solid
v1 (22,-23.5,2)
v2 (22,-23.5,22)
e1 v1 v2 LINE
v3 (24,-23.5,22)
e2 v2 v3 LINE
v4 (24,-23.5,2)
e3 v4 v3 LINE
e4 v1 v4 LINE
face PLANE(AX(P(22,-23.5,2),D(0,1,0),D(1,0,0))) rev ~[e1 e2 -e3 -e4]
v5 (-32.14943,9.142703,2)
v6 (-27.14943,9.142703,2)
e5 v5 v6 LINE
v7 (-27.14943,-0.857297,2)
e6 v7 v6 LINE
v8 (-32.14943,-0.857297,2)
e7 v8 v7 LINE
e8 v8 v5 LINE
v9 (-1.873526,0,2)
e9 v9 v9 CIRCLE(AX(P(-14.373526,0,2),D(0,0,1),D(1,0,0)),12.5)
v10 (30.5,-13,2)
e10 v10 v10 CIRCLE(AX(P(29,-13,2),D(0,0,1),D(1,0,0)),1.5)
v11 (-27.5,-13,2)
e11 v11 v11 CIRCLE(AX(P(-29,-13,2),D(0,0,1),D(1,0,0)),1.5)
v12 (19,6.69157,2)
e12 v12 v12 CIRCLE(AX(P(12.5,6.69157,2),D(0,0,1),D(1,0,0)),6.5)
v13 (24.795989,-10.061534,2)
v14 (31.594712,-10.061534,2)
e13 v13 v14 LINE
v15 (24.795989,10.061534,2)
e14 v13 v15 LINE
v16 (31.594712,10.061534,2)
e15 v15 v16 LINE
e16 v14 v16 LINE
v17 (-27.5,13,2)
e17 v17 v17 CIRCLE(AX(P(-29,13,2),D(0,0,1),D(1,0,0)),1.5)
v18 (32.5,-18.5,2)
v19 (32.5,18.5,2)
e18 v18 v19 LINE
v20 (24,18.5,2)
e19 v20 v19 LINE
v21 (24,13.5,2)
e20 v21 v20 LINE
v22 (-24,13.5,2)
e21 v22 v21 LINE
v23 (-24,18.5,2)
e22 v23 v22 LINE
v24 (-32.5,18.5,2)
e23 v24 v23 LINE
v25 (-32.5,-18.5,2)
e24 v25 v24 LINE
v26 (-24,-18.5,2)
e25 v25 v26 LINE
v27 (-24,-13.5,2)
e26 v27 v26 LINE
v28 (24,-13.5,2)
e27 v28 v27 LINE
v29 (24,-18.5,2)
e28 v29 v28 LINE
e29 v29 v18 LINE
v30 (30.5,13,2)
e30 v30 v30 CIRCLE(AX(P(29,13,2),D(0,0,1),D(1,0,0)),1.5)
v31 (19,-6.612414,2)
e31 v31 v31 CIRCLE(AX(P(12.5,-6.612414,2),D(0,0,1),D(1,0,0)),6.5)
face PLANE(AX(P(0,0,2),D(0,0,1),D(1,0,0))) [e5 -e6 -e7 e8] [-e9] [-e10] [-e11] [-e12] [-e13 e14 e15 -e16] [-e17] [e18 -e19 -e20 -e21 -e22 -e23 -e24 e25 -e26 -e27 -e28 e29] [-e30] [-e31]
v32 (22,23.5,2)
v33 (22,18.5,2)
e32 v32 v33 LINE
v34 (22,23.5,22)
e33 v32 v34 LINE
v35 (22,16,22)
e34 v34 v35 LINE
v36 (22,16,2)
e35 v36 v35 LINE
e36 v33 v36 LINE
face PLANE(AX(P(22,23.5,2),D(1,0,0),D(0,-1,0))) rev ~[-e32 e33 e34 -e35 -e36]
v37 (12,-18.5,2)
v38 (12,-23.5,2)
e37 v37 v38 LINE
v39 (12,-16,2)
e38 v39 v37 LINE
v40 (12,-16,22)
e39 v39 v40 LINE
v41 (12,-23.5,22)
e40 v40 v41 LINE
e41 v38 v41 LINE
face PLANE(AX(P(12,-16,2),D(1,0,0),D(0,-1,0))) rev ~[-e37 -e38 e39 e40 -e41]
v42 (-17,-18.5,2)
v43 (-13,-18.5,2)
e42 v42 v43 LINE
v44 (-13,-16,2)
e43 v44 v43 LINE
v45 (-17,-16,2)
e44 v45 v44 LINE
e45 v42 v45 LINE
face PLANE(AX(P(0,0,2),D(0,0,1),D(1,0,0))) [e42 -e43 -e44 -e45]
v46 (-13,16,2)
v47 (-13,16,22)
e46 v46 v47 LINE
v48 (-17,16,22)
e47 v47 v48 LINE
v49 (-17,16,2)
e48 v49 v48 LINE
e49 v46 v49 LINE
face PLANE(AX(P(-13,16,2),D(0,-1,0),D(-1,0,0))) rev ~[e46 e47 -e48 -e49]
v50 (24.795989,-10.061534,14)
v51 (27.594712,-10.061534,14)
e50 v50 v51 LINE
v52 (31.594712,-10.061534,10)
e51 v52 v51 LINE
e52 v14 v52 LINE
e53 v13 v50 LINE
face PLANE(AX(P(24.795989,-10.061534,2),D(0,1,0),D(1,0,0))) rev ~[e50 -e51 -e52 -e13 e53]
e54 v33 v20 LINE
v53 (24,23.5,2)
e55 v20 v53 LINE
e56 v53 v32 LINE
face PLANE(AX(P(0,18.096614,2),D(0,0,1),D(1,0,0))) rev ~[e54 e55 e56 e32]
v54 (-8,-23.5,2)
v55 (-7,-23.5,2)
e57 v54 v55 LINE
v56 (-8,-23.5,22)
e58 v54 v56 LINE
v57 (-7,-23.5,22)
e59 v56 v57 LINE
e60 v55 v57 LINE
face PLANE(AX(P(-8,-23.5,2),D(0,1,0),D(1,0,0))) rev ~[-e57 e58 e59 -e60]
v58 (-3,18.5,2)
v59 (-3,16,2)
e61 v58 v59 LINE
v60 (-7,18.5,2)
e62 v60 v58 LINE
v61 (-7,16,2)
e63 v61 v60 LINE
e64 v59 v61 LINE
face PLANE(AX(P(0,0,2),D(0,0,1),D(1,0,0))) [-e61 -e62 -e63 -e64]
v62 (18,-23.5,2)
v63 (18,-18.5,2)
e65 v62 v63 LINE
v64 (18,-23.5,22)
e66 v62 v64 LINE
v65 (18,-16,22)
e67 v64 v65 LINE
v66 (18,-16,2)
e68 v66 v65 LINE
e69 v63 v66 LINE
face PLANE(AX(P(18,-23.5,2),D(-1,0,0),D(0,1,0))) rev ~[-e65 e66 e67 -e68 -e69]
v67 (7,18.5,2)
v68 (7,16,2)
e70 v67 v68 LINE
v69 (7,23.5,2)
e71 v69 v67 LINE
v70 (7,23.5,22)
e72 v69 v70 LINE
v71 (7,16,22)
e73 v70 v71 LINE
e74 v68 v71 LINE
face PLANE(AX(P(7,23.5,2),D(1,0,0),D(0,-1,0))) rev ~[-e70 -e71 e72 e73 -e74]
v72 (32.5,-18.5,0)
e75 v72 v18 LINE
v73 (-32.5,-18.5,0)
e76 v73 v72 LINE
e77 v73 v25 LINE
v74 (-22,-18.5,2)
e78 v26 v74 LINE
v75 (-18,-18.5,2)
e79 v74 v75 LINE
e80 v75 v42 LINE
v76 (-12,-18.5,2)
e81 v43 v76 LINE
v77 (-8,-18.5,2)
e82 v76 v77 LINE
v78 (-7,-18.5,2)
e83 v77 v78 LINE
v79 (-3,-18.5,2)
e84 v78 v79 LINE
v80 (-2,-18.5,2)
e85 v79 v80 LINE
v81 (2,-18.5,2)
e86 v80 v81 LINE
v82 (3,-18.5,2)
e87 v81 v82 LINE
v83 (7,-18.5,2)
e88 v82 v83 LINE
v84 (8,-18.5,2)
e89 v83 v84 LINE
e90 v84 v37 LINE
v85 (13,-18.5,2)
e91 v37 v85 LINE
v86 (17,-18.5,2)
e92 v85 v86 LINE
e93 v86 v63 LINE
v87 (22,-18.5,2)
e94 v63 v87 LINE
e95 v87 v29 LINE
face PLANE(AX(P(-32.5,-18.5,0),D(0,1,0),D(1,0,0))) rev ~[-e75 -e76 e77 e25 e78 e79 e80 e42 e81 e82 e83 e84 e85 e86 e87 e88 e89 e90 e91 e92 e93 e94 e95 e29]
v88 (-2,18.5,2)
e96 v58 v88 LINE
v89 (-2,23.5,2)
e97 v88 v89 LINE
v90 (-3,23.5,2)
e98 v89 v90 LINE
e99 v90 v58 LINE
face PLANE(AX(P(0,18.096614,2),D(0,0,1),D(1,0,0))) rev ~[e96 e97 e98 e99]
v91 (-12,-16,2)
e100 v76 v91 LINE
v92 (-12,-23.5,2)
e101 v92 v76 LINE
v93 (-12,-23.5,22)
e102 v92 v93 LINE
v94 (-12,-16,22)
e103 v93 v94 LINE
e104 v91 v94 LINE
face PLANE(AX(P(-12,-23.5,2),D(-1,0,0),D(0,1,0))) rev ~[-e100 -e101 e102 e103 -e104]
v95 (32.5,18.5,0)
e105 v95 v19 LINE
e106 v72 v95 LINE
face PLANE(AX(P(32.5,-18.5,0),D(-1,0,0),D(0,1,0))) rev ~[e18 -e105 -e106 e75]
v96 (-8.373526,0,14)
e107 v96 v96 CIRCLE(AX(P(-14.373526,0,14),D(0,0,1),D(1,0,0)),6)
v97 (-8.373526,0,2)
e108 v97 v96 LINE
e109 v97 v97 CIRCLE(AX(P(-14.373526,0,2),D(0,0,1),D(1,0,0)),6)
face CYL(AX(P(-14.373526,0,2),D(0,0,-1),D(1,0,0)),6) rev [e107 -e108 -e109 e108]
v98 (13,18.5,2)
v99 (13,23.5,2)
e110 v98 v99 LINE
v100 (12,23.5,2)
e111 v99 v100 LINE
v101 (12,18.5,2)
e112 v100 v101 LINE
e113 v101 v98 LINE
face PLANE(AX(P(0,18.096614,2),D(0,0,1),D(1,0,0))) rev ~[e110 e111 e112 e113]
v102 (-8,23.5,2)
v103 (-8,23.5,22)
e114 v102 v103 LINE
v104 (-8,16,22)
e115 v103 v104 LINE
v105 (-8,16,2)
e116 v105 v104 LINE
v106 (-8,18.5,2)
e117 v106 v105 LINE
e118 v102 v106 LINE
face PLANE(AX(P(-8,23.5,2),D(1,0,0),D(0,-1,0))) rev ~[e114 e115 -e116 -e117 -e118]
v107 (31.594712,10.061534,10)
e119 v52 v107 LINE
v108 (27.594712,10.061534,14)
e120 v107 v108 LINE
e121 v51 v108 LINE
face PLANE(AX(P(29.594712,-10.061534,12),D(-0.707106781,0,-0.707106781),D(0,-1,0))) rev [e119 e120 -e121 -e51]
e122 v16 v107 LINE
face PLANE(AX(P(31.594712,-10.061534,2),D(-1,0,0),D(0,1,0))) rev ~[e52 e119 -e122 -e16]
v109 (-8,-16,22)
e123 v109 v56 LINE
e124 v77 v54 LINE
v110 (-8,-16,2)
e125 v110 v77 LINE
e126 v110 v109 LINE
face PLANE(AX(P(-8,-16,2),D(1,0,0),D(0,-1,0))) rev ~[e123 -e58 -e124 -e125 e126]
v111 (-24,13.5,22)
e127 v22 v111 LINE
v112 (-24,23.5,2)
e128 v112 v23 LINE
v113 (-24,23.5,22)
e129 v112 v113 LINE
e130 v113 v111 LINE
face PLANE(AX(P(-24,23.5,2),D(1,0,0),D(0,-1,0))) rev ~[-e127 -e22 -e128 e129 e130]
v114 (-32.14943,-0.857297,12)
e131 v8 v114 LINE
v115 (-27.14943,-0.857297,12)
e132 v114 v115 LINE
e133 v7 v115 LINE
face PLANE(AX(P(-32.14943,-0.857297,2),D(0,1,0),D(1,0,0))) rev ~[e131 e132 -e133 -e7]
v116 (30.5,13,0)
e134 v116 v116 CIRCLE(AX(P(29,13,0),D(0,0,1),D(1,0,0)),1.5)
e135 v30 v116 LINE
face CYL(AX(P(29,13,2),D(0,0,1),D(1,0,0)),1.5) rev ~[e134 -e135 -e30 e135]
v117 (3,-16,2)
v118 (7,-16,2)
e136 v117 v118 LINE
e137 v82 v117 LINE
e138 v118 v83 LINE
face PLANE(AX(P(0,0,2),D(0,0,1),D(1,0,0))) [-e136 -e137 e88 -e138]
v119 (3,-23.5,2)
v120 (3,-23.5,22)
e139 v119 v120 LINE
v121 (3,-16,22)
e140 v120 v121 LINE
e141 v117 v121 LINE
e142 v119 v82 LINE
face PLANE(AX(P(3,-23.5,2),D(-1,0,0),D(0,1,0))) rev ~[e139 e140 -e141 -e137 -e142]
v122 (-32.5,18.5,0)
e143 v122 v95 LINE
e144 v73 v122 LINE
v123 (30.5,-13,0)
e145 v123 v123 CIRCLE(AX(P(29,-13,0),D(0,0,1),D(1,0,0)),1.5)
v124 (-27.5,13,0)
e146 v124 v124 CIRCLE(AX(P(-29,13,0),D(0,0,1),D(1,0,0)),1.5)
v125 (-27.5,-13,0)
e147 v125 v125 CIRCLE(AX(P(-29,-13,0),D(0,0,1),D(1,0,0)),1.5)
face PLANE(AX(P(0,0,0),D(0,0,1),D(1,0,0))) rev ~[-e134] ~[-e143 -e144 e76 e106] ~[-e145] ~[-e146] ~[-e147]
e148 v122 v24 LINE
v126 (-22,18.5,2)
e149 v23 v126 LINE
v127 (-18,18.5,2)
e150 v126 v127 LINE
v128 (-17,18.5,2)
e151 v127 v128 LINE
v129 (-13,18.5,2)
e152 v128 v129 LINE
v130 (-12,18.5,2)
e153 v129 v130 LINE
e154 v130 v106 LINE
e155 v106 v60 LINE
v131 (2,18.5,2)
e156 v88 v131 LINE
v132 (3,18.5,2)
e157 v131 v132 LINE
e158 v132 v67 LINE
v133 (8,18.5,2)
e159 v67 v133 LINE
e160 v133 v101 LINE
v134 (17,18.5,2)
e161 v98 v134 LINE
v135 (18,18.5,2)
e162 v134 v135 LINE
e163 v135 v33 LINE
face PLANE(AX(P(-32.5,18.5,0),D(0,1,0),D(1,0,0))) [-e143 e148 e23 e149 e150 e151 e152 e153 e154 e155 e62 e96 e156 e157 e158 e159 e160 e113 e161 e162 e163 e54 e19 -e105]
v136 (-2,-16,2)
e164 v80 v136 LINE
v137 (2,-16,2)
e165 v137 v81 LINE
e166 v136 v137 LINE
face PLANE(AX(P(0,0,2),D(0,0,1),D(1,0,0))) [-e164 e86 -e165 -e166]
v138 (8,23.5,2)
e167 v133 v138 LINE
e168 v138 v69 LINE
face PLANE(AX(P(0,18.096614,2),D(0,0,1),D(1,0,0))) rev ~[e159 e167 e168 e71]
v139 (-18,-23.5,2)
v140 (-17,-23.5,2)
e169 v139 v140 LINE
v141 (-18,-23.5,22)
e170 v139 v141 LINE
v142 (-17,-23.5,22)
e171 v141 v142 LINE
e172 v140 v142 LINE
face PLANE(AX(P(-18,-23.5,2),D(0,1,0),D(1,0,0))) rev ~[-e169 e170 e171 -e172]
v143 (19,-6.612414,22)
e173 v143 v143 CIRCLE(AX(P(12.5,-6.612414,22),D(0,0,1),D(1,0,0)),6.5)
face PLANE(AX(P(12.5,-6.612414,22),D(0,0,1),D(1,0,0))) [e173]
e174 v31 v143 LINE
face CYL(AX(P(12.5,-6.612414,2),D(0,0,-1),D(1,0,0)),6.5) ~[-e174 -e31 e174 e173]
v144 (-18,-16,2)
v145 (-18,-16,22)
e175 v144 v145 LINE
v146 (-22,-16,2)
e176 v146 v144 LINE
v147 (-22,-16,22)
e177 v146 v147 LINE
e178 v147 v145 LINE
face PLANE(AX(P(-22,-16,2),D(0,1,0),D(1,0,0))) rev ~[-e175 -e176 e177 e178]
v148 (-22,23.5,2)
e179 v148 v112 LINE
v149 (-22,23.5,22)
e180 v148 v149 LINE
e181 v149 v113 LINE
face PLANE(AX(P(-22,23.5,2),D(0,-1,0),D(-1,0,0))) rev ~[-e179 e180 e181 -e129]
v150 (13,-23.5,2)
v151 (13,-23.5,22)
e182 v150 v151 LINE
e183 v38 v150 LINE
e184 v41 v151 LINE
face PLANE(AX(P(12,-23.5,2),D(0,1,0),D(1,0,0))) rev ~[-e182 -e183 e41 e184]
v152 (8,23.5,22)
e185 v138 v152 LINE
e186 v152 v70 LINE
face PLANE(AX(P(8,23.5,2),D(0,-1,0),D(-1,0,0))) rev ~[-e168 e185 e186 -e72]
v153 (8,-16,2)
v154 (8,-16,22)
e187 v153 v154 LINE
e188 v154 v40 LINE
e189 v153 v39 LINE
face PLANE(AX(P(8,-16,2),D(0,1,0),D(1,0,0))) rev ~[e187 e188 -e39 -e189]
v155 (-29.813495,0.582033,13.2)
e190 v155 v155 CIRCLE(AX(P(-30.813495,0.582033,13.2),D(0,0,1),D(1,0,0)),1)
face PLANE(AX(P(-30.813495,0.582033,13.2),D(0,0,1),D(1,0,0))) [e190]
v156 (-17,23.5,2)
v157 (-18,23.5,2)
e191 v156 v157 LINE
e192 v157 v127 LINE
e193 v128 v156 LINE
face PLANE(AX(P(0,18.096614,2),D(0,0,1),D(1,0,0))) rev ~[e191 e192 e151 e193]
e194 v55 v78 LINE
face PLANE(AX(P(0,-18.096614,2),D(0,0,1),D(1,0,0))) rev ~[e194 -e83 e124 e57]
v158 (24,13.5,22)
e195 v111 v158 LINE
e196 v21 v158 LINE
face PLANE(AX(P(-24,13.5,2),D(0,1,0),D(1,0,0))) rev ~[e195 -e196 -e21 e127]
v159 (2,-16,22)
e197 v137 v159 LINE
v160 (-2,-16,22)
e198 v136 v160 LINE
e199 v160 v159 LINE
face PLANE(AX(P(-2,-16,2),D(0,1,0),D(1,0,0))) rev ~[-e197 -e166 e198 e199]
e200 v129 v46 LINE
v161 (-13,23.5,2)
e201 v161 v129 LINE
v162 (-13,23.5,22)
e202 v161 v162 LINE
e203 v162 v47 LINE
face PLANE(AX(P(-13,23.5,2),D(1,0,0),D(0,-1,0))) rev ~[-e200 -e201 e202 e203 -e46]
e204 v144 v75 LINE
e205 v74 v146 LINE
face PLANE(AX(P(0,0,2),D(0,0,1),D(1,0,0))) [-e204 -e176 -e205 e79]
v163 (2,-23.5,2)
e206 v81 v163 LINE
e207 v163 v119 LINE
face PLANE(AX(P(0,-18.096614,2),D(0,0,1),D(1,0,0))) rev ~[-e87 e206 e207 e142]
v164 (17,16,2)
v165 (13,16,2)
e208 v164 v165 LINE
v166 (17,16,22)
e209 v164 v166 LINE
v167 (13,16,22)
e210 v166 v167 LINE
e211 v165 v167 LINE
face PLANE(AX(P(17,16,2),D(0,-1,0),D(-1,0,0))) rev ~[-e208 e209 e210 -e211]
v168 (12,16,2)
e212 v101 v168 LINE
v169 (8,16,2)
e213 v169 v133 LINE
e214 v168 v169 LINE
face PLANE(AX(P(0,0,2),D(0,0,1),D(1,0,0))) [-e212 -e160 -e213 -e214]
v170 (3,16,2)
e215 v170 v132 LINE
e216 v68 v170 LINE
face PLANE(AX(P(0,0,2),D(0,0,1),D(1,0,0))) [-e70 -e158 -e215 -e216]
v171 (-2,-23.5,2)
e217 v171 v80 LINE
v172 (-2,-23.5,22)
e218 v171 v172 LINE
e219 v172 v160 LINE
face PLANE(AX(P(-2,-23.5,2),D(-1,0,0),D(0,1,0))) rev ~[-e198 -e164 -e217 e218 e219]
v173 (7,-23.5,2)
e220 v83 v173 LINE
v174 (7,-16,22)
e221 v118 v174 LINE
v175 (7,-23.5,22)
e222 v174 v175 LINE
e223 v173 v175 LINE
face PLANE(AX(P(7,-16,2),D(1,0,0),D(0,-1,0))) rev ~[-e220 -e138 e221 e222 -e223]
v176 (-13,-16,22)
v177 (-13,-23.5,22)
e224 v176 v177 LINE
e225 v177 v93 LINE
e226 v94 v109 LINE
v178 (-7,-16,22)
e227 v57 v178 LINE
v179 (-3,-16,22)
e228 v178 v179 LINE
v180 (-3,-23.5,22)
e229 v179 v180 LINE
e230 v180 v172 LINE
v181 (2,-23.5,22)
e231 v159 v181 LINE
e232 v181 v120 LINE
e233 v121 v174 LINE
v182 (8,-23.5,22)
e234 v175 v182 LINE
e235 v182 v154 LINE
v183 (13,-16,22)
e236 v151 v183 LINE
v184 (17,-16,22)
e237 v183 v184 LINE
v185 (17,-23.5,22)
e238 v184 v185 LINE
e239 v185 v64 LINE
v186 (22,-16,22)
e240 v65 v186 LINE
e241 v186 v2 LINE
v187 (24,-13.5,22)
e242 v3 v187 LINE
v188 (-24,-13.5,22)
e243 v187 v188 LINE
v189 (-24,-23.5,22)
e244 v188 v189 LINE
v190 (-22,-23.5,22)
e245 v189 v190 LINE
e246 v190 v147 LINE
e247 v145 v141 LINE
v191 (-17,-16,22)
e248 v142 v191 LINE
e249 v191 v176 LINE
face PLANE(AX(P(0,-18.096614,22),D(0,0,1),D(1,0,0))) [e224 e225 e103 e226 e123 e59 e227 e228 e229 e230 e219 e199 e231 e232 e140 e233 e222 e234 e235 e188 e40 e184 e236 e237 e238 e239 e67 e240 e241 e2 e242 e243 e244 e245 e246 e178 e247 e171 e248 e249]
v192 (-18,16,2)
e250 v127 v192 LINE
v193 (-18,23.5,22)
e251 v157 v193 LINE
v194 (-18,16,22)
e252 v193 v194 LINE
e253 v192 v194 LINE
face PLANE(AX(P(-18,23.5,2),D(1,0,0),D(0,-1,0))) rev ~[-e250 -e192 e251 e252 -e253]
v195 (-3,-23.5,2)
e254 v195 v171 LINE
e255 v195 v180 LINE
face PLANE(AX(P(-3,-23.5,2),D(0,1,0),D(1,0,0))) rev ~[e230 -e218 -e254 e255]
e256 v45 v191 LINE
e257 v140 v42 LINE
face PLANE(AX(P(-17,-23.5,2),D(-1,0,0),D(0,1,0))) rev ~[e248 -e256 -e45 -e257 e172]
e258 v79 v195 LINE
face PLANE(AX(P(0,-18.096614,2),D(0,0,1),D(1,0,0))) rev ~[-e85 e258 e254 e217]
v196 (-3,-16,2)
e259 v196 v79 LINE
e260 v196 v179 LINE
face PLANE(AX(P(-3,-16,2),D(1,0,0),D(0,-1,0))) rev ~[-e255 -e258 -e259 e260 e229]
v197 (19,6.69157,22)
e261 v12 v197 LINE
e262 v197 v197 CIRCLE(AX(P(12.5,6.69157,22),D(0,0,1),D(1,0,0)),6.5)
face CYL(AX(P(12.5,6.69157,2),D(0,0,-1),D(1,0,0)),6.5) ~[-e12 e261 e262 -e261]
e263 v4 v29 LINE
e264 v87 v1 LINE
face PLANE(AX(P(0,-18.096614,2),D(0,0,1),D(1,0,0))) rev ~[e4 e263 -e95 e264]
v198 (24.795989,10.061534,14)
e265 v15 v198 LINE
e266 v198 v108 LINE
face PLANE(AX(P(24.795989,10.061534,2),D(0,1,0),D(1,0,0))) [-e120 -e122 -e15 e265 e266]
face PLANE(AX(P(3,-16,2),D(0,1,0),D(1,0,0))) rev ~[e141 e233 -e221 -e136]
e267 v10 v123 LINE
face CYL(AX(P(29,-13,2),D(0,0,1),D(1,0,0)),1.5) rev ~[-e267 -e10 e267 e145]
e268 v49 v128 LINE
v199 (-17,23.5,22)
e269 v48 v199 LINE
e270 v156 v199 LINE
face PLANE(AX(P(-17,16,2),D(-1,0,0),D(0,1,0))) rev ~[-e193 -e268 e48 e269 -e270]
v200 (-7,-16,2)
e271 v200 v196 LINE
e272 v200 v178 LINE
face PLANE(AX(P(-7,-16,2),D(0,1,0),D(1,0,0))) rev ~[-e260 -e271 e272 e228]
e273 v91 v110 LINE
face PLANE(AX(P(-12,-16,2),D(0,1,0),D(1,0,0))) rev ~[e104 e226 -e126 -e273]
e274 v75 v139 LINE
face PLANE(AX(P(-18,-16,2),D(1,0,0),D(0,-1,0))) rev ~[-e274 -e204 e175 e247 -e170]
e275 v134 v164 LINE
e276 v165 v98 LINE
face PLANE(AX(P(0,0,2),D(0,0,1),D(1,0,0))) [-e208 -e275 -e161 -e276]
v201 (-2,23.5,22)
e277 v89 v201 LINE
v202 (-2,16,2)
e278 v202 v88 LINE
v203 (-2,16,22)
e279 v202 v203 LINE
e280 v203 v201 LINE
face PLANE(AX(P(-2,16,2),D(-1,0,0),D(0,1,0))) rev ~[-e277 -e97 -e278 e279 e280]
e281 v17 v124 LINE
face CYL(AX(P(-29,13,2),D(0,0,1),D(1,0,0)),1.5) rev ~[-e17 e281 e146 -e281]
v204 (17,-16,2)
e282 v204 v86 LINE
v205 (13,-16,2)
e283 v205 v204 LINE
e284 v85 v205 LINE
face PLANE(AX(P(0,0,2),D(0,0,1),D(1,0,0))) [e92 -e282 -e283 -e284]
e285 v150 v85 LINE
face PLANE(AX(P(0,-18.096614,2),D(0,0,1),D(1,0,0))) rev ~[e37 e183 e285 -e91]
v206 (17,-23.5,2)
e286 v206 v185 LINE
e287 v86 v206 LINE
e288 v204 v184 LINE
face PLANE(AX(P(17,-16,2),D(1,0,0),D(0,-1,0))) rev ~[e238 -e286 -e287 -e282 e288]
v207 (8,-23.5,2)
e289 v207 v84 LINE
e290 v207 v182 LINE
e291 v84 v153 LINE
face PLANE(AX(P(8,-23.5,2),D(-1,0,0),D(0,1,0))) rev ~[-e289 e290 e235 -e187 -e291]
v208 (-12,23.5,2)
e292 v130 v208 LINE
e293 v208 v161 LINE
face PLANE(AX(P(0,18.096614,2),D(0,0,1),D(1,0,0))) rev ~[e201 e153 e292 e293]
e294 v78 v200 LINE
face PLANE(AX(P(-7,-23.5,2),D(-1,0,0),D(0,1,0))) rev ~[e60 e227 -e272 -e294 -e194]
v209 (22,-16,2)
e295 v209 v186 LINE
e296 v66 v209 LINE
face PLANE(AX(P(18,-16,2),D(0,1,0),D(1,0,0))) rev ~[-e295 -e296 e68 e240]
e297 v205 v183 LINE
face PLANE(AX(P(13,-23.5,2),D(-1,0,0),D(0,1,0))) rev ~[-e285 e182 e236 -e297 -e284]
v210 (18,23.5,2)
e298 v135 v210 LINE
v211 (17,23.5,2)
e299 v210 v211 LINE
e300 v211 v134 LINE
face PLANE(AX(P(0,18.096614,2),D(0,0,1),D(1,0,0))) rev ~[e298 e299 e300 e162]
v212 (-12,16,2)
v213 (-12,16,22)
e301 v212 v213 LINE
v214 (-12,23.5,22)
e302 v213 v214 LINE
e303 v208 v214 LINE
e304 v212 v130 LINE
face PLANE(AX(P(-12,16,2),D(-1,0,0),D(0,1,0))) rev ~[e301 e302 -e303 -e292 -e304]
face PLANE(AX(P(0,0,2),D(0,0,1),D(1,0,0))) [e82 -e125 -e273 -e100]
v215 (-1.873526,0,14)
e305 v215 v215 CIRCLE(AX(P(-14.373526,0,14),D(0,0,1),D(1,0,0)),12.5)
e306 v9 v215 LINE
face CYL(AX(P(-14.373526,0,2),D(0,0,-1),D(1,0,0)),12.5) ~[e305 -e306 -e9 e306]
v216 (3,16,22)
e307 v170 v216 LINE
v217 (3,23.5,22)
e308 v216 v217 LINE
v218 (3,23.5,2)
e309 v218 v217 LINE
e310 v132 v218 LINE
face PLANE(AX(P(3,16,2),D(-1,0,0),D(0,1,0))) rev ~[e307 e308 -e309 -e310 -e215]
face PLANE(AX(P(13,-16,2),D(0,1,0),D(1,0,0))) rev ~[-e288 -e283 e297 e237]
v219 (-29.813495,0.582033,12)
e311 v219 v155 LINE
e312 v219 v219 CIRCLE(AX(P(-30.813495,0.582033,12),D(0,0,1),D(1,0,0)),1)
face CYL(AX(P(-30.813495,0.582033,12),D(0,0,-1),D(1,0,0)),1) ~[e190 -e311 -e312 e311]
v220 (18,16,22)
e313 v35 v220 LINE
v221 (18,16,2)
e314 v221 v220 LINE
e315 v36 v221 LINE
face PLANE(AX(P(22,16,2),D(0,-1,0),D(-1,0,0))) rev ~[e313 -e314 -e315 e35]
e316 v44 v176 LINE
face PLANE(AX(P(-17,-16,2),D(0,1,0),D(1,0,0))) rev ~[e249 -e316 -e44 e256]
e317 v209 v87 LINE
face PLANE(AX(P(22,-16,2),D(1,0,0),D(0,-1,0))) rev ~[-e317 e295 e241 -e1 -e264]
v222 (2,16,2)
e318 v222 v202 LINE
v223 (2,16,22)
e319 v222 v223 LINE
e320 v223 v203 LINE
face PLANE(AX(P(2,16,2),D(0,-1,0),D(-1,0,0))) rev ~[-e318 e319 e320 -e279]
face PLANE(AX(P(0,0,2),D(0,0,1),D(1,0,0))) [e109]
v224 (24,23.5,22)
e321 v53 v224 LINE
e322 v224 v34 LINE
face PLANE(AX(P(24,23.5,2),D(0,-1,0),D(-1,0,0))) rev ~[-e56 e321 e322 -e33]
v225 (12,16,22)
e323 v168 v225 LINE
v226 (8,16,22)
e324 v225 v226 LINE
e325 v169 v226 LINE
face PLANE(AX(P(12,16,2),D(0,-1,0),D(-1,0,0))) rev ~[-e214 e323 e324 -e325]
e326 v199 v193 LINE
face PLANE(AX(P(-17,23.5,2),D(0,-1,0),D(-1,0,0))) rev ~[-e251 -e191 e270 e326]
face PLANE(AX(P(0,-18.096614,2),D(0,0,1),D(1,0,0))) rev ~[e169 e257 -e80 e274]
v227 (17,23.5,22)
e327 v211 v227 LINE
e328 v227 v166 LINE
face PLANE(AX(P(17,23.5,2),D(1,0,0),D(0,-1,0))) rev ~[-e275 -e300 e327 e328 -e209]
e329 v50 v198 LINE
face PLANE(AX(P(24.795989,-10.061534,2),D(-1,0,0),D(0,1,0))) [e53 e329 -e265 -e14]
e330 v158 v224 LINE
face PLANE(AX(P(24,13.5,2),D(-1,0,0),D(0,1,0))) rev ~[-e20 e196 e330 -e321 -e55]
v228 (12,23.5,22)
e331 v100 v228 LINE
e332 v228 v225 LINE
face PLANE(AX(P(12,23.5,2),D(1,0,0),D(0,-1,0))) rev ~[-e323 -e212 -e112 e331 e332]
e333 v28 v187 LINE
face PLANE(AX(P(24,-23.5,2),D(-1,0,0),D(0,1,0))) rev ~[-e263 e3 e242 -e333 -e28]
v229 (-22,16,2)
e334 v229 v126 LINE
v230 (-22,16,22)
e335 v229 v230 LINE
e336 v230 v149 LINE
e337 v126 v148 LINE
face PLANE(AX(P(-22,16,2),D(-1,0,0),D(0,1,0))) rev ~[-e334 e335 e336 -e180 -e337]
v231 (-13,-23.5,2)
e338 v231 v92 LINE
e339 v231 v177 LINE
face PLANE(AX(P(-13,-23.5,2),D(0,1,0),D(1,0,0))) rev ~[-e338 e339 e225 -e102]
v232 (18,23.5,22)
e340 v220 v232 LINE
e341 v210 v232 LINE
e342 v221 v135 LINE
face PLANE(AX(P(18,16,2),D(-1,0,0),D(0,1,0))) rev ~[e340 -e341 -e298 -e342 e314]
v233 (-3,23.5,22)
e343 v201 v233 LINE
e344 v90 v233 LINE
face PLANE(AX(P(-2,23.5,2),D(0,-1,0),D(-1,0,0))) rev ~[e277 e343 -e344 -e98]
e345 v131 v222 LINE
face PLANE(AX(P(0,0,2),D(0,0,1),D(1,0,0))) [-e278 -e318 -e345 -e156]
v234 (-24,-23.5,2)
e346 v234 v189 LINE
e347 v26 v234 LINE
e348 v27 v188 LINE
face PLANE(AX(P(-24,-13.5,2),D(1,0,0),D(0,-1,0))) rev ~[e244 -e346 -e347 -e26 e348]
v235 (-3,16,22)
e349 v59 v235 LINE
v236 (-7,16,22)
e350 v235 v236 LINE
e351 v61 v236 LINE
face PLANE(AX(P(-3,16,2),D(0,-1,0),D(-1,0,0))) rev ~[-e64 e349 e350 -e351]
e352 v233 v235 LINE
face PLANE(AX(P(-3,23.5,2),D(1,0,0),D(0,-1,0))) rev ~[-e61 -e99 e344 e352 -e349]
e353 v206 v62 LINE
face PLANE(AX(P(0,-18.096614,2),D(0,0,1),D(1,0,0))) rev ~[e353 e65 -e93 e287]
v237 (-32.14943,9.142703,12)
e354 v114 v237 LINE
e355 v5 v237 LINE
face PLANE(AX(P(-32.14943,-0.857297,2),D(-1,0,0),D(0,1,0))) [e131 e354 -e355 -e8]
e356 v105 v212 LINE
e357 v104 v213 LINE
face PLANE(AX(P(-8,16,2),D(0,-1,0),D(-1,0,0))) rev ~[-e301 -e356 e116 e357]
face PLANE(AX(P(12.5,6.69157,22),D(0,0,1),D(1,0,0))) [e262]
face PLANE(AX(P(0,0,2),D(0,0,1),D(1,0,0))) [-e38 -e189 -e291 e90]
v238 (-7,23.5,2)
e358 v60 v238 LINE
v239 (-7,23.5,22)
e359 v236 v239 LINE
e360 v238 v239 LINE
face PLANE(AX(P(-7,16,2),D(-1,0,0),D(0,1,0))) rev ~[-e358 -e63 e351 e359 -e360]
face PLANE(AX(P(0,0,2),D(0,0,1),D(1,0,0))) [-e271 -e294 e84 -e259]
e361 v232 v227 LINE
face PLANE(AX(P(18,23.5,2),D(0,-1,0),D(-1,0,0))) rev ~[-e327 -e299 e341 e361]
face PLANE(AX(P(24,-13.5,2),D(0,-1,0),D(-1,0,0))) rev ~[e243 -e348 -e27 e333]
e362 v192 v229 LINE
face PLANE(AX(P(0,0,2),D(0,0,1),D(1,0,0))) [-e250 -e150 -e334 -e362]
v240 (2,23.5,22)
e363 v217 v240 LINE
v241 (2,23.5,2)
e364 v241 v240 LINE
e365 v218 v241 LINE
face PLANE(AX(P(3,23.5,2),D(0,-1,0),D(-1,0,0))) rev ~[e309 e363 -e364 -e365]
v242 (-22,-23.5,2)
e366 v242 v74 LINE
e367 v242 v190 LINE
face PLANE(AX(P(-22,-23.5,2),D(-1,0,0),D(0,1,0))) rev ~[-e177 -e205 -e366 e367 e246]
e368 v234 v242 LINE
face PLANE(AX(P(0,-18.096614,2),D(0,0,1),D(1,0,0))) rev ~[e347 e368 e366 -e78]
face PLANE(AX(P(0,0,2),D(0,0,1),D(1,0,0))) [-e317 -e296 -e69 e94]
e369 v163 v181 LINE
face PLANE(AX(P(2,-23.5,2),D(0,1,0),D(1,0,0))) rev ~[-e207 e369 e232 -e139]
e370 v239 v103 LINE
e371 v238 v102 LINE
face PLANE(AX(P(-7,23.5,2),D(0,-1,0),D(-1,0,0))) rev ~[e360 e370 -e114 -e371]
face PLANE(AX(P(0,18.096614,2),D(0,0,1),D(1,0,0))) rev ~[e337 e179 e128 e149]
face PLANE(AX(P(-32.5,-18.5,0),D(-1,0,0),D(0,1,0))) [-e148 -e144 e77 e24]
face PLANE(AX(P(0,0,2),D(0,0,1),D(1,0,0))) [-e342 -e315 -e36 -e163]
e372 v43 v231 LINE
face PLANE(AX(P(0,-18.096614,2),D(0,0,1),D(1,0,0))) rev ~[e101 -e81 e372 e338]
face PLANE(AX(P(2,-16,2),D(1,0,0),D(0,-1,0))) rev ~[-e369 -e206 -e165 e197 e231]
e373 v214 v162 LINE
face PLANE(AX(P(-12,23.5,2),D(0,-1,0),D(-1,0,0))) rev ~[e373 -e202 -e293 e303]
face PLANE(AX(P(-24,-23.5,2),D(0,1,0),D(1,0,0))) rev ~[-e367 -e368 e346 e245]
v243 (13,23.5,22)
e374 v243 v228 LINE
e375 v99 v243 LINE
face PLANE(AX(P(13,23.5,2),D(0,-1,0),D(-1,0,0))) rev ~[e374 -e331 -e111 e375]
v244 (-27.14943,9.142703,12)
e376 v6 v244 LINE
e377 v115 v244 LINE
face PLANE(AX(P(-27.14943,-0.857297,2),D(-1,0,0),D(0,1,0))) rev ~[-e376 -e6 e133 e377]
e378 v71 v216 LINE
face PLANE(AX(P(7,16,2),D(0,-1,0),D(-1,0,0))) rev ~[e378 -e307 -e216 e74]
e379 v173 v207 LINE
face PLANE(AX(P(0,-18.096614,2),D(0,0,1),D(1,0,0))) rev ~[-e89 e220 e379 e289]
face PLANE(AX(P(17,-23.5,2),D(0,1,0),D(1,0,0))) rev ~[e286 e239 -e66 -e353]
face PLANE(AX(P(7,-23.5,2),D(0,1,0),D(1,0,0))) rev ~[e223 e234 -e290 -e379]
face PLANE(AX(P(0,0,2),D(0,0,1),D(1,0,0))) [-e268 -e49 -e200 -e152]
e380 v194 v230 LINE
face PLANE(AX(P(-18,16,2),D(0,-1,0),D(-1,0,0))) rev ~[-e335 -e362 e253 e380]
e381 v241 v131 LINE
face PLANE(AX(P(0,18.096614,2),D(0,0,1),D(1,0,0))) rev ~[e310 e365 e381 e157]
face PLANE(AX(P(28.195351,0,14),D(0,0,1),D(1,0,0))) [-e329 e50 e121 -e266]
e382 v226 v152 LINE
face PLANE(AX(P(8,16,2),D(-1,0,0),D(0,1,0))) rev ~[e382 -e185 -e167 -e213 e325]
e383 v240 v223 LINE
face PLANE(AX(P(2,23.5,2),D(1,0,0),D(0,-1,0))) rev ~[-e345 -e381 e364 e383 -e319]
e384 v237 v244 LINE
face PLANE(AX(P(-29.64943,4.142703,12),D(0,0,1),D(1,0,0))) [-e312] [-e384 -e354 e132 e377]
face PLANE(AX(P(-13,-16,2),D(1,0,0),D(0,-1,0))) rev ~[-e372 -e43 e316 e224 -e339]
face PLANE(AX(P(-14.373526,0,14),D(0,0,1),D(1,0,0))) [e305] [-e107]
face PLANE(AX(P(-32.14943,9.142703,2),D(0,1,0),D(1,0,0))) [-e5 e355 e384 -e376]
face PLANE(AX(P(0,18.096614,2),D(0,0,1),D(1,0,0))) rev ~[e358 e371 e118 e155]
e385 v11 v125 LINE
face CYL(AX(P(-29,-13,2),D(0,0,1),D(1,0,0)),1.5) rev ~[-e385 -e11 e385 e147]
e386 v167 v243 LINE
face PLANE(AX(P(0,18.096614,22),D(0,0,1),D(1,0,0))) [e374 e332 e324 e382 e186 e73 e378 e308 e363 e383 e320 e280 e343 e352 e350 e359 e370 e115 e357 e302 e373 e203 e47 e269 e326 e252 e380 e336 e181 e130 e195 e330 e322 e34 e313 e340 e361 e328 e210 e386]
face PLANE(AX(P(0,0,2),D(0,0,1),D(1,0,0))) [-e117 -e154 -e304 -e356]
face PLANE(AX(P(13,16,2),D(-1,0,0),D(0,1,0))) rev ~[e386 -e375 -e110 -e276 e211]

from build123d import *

# Parameters (mm, degrees)
SKETCH_1_W          = 65
SKETCH_1_H          = 37
EXTRUDE_1_DEPTH     = 2
EXTRUDE_2_DEPTH     = 20
SKETCH_3_R          = 6.5
EXTRUDE_3_DEPTH     = 20
SKETCH_4_R          = 12.5
SKETCH_4_R_2        = 6
EXTRUDE_4_DEPTH     = 12
SKETCH_5_W          = 5
SKETCH_5_H          = 10
EXTRUDE_5_DEPTH     = 10
SKETCH_6_R          = 1
EXTRUDE_6_DEPTH     = 1.2
SKETCH_7_W          = 6.798722996
SKETCH_7_H          = 20.12306807
EXTRUDE_7_DEPTH     = 12
CHAMFER_1_SIZE      = 4
SKETCH_8_R          = 1.5
CUT_EXTRUDE_1_DEPTH = 3


with BuildPart() as part:
    # Эскиз1 → Бобышка-Вытянуть1 (new body)
    with BuildSketch(Plane.XY):
        Rectangle(SKETCH_1_W, SKETCH_1_H)
    extrude(amount=EXTRUDE_1_DEPTH)

    # Эскиз2 → Бобышка-Вытянуть2 (add)
    with BuildSketch(Plane.XY.offset(2)):
        Polygon((-24, 23.5), (-24, 13.5), (24, 13.5), (24, 23.5), (22, 23.5), (22, 16), (18, 16), (18, 23.5), (17, 23.5), (17, 16), (13, 16), (13, 23.5), (12, 23.5), (12, 16), (8, 16), (8, 23.5), (7, 23.5), (7, 16), (3, 16), (3, 23.5), (2, 23.5), (2, 16), (-2, 16), (-2, 23.5), (-3, 23.5), (-3, 16), (-7, 16), (-7, 23.5), (-8, 23.5), (-8, 16), (-12, 16), (-12, 23.5), (-13, 23.5), (-13, 16), (-17, 16), (-17, 23.5), (-18, 23.5), (-18, 16), (-22, 16), (-22, 23.5), align=None)
        Polygon((22, -23.5), (24, -23.5), (24, -13.5), (-24, -13.5), (-24, -23.5), (-22, -23.5), (-22, -16), (-18, -16), (-18, -23.5), (-17, -23.5), (-17, -16), (-13, -16), (-13, -23.5), (-12, -23.5), (-12, -16), (-8, -16), (-8, -23.5), (-7, -23.5), (-7, -16), (-3, -16), (-3, -23.5), (-2, -23.5), (-2, -16), (2, -16), (2, -23.5), (3, -23.5), (3, -16), (7, -16), (7, -23.5), (8, -23.5), (8, -16), (12, -16), (12, -23.5), (13, -23.5), (13, -16), (17, -16), (17, -23.5), (18, -23.5), (18, -16), (22, -16), align=None)
    extrude(amount=EXTRUDE_2_DEPTH)

    # Эскиз3 → Бобышка-Вытянуть3 (add)
    with BuildSketch(Plane.XY.offset(2)):
        with Locations((12.5, 6.691570058)):
            Circle(SKETCH_3_R)
        with Locations((12.5, -6.612413993)):
            Circle(SKETCH_3_R)
    extrude(amount=EXTRUDE_3_DEPTH)

    # Эскиз4 → Бобышка-Вытянуть4 (add)
    with BuildSketch(Plane.XY.offset(2)):
        with Locations((-14.373526478, 0)):
            Circle(SKETCH_4_R)
        with Locations((-14.373526478, 0)):
            Circle(SKETCH_4_R_2, mode=Mode.SUBTRACT)
    extrude(amount=EXTRUDE_4_DEPTH)

    # Эскиз5 → Бобышка-Вытянуть5 (add)
    with BuildSketch(Plane.XY.offset(2)):
        with Locations((-29.649429854, 4.142703247)):
            Rectangle(SKETCH_5_W, SKETCH_5_H)
    extrude(amount=EXTRUDE_5_DEPTH)

    # Эскиз6 → Бобышка-Вытянуть6 (add)
    with BuildSketch(Plane.XY.offset(12)):
        with Locations((-30.813495229, 0.582032688)):
            Circle(SKETCH_6_R)
    extrude(amount=EXTRUDE_6_DEPTH)

    # Эскиз7 → Бобышка-Вытянуть7 (add)
    with BuildSketch(Plane.XY.offset(2)):
        with Locations((28.195350692, 0)):
            Rectangle(SKETCH_7_W, SKETCH_7_H)
    extrude(amount=EXTRUDE_7_DEPTH)

    # Фаска1
    chamfer_1_edges = [part.edges().sort_by_distance(p)[0] for p in [
        (31.59471219, 0, 14),
    ]]
    chamfer(chamfer_1_edges, length=CHAMFER_1_SIZE)

    # Эскиз8 → Вырез-Вытянуть1 (cut, through all)
    with BuildSketch(Plane.XY.offset(2)):
        with Locations((-29, 13)):
            Circle(SKETCH_8_R)
        with Locations((29, 13)):
            Circle(SKETCH_8_R)
        with Locations((29, -13)):
            Circle(SKETCH_8_R)
        with Locations((-29, -13)):
            Circle(SKETCH_8_R)
    extrude(amount=-CUT_EXTRUDE_1_DEPTH, mode=Mode.SUBTRACT)


solid = part.part
